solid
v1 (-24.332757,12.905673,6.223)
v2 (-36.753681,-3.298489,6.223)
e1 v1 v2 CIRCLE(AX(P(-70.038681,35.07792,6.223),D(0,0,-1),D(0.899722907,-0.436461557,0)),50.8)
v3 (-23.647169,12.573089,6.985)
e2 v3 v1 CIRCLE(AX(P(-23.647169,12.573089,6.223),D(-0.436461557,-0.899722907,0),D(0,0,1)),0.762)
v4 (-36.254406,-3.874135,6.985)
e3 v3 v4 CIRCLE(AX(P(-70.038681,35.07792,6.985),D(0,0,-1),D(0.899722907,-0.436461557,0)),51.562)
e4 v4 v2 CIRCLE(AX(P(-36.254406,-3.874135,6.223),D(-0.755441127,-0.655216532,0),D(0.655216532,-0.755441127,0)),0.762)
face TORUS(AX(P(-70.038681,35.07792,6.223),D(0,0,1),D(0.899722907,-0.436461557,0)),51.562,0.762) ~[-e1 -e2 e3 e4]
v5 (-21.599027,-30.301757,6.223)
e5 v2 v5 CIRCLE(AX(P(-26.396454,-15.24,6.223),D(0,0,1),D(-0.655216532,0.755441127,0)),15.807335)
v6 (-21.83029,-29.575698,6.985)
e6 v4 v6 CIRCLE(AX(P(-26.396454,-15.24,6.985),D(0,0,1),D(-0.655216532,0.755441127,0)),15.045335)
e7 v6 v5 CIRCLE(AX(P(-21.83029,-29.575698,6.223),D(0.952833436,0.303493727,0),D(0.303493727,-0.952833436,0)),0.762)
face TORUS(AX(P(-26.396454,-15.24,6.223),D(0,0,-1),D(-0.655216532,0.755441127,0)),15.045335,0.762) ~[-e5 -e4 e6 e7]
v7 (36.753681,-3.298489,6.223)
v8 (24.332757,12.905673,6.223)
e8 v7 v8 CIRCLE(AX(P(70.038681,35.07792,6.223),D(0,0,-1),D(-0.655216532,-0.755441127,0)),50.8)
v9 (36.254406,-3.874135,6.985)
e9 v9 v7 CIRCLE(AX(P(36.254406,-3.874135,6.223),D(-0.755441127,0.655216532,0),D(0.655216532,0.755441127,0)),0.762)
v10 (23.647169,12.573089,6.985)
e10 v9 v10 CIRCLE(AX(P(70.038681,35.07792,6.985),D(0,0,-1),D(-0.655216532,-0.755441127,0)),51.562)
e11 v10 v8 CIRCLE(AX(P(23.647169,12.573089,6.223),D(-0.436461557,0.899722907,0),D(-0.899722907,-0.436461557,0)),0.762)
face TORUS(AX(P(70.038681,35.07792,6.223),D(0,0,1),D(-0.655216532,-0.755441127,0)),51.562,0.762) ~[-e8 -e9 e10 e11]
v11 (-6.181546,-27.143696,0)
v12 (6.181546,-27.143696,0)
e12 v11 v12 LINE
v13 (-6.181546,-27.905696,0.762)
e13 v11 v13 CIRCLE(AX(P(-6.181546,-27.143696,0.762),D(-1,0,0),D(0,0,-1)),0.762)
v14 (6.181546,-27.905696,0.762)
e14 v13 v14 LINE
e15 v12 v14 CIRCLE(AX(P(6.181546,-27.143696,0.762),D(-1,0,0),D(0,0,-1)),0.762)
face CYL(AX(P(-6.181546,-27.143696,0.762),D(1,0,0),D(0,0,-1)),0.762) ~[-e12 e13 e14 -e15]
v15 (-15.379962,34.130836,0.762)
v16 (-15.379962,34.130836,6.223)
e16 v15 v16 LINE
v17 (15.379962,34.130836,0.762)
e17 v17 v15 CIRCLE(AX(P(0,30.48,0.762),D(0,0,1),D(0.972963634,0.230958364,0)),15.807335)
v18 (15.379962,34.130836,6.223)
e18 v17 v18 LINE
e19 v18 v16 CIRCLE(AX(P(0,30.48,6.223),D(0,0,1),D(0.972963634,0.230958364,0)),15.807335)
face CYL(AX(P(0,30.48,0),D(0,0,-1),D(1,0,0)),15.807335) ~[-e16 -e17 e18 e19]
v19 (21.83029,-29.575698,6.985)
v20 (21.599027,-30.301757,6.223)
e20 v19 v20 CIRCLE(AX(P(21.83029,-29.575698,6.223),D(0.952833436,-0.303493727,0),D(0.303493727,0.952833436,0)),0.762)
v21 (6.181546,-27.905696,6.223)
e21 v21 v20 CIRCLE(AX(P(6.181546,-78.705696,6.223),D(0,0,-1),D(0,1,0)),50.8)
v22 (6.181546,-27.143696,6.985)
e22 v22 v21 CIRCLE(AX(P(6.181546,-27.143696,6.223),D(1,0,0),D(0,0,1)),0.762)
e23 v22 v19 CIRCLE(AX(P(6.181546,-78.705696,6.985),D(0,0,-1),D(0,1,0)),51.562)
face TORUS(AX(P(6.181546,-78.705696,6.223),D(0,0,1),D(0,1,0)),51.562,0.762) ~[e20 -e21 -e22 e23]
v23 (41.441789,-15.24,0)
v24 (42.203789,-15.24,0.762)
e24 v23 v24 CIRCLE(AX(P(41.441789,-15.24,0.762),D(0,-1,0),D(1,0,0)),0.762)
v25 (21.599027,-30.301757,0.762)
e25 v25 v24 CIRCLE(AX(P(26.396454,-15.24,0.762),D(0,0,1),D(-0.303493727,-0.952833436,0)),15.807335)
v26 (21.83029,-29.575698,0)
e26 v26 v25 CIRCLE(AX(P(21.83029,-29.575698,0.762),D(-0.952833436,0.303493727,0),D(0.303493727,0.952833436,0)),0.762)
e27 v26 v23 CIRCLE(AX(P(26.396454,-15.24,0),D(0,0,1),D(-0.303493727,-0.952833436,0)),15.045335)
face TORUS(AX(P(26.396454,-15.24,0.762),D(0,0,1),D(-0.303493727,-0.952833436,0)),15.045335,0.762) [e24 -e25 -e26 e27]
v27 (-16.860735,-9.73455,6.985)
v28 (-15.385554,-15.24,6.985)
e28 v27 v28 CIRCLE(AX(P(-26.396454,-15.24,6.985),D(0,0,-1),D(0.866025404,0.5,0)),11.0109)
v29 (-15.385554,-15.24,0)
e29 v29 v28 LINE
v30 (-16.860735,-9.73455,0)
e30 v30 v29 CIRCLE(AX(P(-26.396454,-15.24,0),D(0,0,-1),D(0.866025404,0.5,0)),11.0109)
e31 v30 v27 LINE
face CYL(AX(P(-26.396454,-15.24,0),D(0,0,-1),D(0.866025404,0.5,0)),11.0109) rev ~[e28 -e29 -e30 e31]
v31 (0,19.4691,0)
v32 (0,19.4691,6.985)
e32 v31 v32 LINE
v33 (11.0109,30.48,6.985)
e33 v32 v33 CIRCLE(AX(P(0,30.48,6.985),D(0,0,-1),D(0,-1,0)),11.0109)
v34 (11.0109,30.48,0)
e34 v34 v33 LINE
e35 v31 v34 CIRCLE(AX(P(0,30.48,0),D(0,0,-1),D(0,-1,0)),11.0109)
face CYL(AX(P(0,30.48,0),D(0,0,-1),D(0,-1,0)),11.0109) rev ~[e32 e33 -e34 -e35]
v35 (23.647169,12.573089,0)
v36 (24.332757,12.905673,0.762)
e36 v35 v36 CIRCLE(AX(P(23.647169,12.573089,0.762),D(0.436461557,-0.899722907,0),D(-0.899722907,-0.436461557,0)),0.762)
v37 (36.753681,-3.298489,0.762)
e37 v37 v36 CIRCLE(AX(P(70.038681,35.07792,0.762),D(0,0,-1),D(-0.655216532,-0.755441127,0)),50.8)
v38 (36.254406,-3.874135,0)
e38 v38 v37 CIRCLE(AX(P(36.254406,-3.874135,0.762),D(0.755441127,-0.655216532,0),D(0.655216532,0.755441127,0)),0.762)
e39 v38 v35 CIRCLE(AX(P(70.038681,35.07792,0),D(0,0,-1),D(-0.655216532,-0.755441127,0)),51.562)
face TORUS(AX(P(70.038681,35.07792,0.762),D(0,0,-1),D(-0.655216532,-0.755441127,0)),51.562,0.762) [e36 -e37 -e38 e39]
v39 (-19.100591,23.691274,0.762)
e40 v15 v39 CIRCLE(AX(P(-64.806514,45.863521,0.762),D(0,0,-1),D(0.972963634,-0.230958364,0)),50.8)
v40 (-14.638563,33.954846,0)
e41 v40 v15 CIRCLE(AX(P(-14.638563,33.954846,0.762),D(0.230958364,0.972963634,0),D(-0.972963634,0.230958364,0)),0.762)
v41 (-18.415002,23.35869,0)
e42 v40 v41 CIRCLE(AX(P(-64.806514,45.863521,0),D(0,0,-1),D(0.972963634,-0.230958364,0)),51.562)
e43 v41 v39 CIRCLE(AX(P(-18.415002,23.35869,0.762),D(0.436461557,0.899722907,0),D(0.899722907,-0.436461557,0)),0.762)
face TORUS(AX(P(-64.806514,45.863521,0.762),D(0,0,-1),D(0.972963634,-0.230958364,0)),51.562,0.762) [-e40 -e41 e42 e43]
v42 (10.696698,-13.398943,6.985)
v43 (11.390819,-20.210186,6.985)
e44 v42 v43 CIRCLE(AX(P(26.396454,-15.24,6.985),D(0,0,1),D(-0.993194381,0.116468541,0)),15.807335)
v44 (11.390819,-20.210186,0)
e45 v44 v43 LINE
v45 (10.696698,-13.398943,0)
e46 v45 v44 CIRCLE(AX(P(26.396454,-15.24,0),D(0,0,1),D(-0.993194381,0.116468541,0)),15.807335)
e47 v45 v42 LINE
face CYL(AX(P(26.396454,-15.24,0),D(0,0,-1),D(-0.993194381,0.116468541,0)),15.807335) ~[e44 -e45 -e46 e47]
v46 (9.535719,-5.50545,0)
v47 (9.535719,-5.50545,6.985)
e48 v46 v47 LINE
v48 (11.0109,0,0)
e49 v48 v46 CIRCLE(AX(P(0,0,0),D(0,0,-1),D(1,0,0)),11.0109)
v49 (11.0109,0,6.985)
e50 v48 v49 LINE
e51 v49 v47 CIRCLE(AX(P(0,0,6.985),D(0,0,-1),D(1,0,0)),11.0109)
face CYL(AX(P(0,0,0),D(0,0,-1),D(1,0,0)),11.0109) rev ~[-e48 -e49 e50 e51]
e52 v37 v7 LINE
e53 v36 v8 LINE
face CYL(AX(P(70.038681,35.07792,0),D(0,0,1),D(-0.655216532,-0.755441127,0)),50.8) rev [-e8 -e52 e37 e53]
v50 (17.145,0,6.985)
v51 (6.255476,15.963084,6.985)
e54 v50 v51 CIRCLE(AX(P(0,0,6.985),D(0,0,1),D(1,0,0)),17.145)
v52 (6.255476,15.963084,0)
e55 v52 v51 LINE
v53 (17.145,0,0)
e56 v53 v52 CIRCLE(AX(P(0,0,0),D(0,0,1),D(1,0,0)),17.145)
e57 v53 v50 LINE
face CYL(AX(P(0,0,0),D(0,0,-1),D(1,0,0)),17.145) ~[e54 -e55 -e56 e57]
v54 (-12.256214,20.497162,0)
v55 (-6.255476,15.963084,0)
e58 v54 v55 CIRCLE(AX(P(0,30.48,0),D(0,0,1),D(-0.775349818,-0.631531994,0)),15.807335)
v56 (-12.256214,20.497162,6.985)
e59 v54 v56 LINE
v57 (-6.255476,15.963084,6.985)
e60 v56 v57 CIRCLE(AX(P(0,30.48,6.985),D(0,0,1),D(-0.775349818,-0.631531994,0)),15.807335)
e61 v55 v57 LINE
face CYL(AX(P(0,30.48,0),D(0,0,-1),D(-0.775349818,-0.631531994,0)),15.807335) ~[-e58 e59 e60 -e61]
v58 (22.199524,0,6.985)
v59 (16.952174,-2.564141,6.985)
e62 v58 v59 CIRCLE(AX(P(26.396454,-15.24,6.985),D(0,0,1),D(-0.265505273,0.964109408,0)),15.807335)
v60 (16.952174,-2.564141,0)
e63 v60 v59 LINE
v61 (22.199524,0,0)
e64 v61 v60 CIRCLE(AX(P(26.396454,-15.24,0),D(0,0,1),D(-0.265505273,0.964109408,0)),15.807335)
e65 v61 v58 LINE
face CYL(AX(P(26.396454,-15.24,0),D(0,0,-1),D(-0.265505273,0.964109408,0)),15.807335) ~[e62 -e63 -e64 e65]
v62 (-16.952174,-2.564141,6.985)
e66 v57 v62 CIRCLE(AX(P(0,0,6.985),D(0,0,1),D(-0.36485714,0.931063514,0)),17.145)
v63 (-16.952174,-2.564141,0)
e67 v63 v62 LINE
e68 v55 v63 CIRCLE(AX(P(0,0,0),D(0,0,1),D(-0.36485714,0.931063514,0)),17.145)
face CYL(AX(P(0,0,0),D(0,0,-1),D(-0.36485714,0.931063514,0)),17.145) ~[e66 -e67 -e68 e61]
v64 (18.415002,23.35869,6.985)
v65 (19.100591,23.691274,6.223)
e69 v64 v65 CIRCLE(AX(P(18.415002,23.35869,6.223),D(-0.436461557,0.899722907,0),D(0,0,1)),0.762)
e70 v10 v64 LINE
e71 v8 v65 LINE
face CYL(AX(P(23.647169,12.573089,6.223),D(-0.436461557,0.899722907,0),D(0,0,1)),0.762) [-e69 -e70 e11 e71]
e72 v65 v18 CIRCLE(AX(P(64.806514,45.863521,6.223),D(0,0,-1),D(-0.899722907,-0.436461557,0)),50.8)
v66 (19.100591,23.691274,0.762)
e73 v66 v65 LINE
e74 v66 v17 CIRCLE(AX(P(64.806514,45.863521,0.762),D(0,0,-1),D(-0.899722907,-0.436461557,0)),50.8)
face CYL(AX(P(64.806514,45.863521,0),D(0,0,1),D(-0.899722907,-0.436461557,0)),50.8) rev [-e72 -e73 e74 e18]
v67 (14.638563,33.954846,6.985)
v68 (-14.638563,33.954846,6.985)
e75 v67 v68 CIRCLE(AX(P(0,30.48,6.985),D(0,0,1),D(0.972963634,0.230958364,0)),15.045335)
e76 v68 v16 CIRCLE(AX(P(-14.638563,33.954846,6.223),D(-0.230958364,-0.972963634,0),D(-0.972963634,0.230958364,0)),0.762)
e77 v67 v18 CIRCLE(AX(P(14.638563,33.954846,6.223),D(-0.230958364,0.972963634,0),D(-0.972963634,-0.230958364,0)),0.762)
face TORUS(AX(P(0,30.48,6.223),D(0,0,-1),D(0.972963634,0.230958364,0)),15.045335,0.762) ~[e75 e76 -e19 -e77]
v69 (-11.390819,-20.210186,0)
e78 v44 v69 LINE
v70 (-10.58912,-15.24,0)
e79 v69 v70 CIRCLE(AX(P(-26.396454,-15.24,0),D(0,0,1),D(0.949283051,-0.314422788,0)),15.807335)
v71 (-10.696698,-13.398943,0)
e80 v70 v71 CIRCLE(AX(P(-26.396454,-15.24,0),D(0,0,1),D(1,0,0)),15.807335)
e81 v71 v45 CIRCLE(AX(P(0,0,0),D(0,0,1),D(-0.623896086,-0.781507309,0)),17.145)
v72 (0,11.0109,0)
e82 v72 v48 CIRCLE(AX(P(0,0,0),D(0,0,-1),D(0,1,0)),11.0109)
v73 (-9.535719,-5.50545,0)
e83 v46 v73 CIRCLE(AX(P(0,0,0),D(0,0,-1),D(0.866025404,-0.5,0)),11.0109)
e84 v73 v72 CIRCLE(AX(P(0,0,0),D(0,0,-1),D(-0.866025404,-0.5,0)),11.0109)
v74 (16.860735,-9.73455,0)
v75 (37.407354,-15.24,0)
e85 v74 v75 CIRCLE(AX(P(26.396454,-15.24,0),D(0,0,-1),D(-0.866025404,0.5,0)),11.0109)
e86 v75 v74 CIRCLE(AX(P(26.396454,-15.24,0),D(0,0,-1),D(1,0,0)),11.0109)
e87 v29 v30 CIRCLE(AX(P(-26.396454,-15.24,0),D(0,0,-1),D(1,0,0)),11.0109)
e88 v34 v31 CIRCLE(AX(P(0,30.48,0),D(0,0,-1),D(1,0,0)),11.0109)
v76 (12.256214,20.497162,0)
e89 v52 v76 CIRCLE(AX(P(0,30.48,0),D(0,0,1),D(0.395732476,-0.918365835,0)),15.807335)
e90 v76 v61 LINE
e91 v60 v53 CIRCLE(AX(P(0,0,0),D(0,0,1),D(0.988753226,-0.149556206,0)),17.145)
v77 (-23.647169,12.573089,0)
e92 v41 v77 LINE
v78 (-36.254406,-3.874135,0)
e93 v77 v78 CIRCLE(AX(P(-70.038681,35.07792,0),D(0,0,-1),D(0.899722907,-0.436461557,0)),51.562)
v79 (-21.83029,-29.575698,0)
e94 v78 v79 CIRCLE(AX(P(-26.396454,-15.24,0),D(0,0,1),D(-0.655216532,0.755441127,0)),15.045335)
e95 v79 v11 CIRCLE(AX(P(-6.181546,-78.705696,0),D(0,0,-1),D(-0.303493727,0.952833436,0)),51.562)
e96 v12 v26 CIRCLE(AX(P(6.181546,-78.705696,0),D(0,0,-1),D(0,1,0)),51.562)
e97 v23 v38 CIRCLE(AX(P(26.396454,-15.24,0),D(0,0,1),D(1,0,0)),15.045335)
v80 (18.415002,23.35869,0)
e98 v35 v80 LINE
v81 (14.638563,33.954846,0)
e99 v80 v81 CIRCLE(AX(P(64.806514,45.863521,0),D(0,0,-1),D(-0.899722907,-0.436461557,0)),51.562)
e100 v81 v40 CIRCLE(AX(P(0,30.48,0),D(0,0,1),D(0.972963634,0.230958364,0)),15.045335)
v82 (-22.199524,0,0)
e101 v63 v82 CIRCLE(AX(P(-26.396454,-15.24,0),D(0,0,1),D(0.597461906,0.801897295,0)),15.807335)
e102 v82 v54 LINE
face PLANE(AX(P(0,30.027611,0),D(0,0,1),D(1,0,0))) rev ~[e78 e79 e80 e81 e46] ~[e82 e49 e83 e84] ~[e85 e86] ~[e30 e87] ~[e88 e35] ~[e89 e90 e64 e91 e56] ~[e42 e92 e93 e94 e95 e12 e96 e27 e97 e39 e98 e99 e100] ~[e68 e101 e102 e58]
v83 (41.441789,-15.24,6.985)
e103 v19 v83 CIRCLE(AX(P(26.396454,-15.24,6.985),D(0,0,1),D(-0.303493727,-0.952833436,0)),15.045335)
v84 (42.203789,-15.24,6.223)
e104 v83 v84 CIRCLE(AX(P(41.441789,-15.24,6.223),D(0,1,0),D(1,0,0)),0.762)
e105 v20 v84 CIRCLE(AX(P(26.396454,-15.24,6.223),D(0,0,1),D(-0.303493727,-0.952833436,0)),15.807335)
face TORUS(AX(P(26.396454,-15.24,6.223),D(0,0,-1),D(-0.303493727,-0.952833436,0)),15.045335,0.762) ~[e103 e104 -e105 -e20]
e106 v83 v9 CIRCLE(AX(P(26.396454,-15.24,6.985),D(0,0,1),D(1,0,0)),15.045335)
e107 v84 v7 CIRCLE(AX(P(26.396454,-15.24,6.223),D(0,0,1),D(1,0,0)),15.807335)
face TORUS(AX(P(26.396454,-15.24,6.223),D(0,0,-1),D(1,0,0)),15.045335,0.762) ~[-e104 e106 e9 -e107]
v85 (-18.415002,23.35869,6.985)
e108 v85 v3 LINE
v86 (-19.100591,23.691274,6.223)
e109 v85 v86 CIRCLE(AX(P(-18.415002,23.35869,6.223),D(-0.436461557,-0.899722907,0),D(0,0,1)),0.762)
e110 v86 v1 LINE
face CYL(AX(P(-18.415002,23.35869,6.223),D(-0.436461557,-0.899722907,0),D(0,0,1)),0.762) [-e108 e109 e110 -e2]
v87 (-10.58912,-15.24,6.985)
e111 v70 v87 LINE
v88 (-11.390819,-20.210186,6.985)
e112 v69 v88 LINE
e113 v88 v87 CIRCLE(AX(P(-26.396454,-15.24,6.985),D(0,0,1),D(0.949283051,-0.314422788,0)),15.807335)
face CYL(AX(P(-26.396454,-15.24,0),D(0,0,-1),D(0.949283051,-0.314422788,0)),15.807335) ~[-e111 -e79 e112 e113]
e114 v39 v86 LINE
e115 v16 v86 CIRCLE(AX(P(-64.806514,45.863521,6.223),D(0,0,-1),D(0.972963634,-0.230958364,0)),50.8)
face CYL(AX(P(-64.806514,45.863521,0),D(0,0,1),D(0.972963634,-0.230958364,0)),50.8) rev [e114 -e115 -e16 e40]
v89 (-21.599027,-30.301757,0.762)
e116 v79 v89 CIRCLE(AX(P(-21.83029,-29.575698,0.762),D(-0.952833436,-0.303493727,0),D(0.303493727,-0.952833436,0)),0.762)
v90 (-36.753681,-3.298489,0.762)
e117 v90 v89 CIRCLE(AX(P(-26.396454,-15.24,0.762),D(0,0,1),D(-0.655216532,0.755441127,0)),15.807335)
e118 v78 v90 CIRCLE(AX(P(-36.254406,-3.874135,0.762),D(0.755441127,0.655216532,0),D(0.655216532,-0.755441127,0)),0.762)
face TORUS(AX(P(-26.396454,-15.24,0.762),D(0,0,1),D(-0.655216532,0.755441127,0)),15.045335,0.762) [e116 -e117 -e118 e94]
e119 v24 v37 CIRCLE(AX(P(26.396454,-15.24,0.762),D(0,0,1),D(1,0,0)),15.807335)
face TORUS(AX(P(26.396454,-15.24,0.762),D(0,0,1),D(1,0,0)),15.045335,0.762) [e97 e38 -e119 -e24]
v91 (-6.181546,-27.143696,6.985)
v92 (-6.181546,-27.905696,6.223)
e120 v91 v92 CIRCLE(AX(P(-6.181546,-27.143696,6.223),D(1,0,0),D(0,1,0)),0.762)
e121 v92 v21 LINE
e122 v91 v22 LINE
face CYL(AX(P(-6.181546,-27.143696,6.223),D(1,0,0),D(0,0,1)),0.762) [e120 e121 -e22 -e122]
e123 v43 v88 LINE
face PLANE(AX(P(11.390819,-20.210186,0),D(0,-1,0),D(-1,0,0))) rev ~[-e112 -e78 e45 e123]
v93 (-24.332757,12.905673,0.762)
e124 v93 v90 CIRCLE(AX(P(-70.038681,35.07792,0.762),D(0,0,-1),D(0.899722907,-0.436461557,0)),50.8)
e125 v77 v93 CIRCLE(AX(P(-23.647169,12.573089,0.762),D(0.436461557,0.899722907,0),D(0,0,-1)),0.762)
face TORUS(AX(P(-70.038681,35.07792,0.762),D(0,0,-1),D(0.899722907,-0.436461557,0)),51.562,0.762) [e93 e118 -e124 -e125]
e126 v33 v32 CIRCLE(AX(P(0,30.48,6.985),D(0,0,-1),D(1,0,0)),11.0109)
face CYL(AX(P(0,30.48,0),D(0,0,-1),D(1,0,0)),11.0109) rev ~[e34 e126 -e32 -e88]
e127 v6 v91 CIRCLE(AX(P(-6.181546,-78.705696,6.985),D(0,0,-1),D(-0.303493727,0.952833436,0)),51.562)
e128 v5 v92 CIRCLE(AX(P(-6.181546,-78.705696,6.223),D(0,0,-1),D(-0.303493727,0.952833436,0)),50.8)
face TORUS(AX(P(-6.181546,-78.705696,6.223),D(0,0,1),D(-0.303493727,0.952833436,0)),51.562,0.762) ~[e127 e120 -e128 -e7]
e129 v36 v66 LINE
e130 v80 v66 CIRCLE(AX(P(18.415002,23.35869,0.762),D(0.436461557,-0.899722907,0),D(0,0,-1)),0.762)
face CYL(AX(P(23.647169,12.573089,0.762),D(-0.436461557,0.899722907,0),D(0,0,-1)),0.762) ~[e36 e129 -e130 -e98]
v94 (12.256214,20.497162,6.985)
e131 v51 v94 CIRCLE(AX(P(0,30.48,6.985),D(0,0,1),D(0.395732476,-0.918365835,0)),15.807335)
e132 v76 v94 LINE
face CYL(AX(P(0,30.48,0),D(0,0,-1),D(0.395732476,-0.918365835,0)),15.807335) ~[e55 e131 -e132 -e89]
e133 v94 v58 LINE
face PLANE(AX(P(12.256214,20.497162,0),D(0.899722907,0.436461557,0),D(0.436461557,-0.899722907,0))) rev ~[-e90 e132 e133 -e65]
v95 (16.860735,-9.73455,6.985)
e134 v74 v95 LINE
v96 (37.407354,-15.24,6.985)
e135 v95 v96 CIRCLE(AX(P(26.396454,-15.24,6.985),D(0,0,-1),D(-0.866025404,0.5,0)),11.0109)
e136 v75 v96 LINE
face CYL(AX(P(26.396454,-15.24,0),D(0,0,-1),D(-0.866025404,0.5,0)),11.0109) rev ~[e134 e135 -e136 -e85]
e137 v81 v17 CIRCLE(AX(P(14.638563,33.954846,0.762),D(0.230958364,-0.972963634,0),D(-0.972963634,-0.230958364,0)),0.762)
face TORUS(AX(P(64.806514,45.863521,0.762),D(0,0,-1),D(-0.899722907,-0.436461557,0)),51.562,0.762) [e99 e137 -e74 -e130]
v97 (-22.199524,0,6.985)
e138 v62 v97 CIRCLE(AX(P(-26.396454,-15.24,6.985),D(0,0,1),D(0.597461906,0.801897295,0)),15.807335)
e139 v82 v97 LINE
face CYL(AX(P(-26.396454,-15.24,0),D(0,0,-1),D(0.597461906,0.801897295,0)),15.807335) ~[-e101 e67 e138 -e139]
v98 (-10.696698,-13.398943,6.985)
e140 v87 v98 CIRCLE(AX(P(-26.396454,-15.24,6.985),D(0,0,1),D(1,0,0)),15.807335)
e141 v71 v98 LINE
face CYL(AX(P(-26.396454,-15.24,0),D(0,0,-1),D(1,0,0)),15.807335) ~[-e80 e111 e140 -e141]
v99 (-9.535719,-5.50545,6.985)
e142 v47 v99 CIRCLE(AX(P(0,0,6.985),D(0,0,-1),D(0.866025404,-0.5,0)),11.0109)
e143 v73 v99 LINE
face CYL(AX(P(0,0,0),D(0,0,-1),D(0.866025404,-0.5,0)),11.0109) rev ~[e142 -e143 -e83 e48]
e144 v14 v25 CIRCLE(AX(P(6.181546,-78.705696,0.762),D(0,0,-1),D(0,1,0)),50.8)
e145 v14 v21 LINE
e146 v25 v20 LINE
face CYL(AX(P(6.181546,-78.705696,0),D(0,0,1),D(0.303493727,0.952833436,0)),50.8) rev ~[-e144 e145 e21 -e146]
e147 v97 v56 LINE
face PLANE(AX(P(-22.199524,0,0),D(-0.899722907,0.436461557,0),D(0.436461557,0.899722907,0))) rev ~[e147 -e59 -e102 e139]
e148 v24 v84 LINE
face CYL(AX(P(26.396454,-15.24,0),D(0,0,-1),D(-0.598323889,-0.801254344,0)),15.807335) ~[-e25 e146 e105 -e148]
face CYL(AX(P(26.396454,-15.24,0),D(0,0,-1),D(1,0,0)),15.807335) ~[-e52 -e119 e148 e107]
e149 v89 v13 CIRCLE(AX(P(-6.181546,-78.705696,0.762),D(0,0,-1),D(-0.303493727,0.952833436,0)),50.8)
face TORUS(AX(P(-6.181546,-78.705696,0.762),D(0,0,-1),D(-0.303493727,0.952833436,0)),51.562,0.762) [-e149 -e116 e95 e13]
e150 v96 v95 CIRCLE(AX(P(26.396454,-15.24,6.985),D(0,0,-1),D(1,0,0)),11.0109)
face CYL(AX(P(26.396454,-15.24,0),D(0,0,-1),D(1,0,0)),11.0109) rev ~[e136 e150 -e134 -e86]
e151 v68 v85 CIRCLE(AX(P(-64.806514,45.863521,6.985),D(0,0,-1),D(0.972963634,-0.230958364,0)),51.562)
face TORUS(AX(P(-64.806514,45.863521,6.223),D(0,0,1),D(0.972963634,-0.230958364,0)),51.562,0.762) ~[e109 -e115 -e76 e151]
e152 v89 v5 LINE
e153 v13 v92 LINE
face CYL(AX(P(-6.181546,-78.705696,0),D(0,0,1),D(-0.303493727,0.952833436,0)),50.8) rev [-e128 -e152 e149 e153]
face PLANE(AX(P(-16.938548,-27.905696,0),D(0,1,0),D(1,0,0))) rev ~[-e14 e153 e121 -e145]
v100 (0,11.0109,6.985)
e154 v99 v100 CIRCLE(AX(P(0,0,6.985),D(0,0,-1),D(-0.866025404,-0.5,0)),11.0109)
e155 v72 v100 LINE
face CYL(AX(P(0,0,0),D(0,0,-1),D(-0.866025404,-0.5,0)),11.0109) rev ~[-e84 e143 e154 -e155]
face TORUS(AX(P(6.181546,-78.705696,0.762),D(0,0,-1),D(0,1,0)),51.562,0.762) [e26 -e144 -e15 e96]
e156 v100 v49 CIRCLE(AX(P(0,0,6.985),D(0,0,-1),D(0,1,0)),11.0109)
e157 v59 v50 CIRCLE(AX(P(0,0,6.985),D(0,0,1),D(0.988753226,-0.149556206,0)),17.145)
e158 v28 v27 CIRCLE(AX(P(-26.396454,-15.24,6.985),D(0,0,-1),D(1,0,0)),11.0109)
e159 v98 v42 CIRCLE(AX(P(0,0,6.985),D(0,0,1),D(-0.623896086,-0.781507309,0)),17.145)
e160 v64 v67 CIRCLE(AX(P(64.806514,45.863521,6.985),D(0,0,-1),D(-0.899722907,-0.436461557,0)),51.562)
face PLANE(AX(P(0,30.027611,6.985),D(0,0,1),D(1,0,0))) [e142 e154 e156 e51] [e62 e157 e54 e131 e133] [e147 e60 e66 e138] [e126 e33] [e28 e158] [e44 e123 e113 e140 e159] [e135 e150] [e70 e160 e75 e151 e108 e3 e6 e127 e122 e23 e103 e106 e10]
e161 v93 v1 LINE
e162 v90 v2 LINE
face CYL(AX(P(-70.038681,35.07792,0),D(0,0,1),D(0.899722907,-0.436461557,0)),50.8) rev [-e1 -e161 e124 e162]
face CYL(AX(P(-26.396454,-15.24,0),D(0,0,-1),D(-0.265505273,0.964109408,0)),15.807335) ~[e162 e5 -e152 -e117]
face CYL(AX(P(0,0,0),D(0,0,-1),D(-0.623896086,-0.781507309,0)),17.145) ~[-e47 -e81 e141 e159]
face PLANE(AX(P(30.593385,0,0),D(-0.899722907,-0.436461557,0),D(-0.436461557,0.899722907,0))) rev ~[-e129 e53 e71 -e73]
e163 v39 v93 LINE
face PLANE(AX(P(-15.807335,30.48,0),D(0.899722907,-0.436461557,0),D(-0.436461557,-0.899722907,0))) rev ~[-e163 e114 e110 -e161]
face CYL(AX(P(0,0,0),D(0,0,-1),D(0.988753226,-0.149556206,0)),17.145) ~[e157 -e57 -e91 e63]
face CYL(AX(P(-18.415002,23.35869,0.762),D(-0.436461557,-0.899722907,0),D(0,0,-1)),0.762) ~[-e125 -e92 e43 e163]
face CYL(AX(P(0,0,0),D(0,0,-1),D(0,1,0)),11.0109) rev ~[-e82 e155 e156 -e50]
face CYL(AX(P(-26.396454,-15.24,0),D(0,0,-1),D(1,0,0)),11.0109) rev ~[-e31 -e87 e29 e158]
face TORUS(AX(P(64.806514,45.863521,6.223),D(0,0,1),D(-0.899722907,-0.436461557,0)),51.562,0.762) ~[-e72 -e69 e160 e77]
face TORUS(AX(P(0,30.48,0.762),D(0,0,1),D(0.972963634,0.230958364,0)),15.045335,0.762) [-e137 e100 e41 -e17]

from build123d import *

# Parameters (mm, degrees)
F1_DEPTH = 6.985
F2_R     = 50.8
F3_R     = 0.762
F4_R     = 0.762


with BuildPart() as f1:
    # F0 (on Top) → F1 (new body)
    with BuildSketch(Plane.XY):
        with BuildLine():
            ThreePointArc((-6.2554756572, 15.9630839534), (-3.1830763908, 16.8469299782), (0, 17.145))
            ThreePointArc((0, 17.145), (3.1830763908, 16.8469299782), (6.2554756572, 15.9630839534))
            ThreePointArc((6.2554756572, 15.9630839534), (9.5294349524, 17.8680335914), (12.2562140059, 20.4971624553))
            ThreePointArc((12.2562140059, 20.4971624553), (14.8931175874, 25.1821819838), (15.8073346015, 30.48))
            ThreePointArc((15.8073346015, 30.48), (0, 46.2873346015), (-15.8073346015, 30.48))
            ThreePointArc((-15.8073346015, 30.48), (-14.8931175874, 25.1821819838), (-12.2562140059, 20.4971624553))
            ThreePointArc((-12.2562140059, 20.4971624553), (-9.5294349524, 17.8680335914), (-6.2554756572, 15.9630839534))
        make_face()
        with BuildLine():
            ThreePointArc((11.0109, 30.48), (7.785882057, 22.694117943), (0, 19.4691))
            ThreePointArc((0, 19.4691), (-7.785882057, 38.265882057), (11.0109, 30.48))
        make_face(mode=Mode.SUBTRACT)
        with BuildLine():
            ThreePointArc((16.952174055, -2.5641411448), (16.1814075323, -5.6668399724), (14.8480055479, -8.5725))
            ThreePointArc((14.8480055479, -8.5725), (12.9983311415, -11.1800900057), (10.6966983977, -13.3989428086))
            ThreePointArc((10.6966983977, -13.3989428086), (10.6705675574, -16.8425957477), (11.3908194918, -20.2101862123))
            ThreePointArc((11.3908194918, -20.2101862123), (13.5737626184, -24.4839388278), (16.9385483902, -27.9056955145))
            ThreePointArc((16.9385483902, -27.9056955145), (33.4805048345, -29.3711024104), (42.2037889088, -15.24))
            ThreePointArc((42.2037889088, -15.24), (38.9705171928, -5.6606070257), (30.5933849958, 0))
            ThreePointArc((30.5933849958, 0), (26.3964543073, 0.5673346015), (22.1995236189, 0))
            ThreePointArc((22.1995236189, 0), (19.456399269, -1.0376247315), (16.952174055, -2.5641411448))
        make_face()
        with BuildLine():
            ThreePointArc((37.4073543073, -15.24), (23.5466236836, -25.8757126807), (16.8607351888, -9.73455))
            ThreePointArc((16.8607351888, -9.73455), (29.2462849311, -4.6042873193), (37.4073543073, -15.24))
        make_face(mode=Mode.SUBTRACT)
        with BuildLine():
            ThreePointArc((-10.6966983977, -13.3989428086), (-12.9983311415, -11.1800900057), (-14.8480055479, -8.5725))
            ThreePointArc((-14.8480055479, -8.5725), (-16.1814075323, -5.6668399724), (-16.952174055, -2.5641411448))
            ThreePointArc((-16.952174055, -2.5641411448), (-19.456399269, -1.0376247315), (-22.1995236189, 0))
            ThreePointArc((-22.1995236189, 0), (-26.3964543073, 0.5673346015), (-30.5933849958, 0))
            ThreePointArc((-30.5933849958, 0), (-40.5950959898, -22.1876903772), (-16.9385483902, -27.9056955145))
            ThreePointArc((-16.9385483902, -27.9056955145), (-13.5737626184, -24.4839388278), (-11.3908194918, -20.2101862123))
            ThreePointArc((-11.3908194918, -20.2101862123), (-10.7908316405, -17.7572144094), (-10.5891197059, -15.24))
            ThreePointArc((-10.5891197059, -15.24), (-10.6160372972, -14.3179012042), (-10.6966983977, -13.3989428086))
        make_face()
        with BuildLine():
            ThreePointArc((-15.3855543073, -15.24), (-37.032166988, -18.0898306237), (-16.8607351888, -9.73455))
            ThreePointArc((-16.8607351888, -9.73455), (-15.7607416267, -12.3901693763), (-15.3855543073, -15.24))
        make_face(mode=Mode.SUBTRACT)
        with BuildLine():
            Line((-22.1995236189, 0), (-12.2562140059, 20.4971624553))
            ThreePointArc((-12.2562140059, 20.4971624553), (-14.8931175874, 25.1821819838), (-15.8073346015, 30.48))
            Line((-15.8073346015, 30.48), (-30.5933849958, 0))
            ThreePointArc((-30.5933849958, 0), (-26.3964543073, 0.5673346015), (-22.1995236189, 0))
        make_face()
        with BuildLine():
            ThreePointArc((15.8073346015, 30.48), (14.8931175874, 25.1821819838), (12.2562140059, 20.4971624553))
            Line((12.2562140059, 20.4971624553), (22.1995236189, 0))
            ThreePointArc((22.1995236189, 0), (26.3964543073, 0.5673346015), (30.5933849958, 0))
            Line((30.5933849958, 0), (15.8073346015, 30.48))
        make_face()
        with BuildLine():
            ThreePointArc((16.9385483902, -27.9056955145), (13.5737626184, -24.4839388278), (11.3908194918, -20.2101862123))
            Line((11.3908194918, -20.2101862123), (-11.3908194918, -20.2101862123))
            ThreePointArc((-11.3908194918, -20.2101862123), (-13.5737626184, -24.4839388278), (-16.9385483902, -27.9056955145))
            Line((-16.9385483902, -27.9056955145), (16.9385483902, -27.9056955145))
        make_face()
        with BuildLine():
            ThreePointArc((0, 11.0109), (7.785882057, 7.785882057), (11.0109, 0))
            ThreePointArc((11.0109, 0), (10.6357126807, -2.8498306237), (9.5357191185, -5.50545))
            Line((9.5357191185, -5.50545), (12.7069009763, -7.3363326993))
            ThreePointArc((12.7069009763, -7.3363326993), (14.5859921181, -4.7335824336), (16.952174055, -2.5641411448))
            ThreePointArc((16.952174055, -2.5641411448), (17.0967255516, -1.2856906369), (17.145, 0))
            ThreePointArc((17.145, 0), (14.1633533307, 9.6618035288), (6.2554756572, 15.9630839534))
            ThreePointArc((6.2554756572, 15.9630839534), (3.1935934206, 14.9986309305), (0, 14.6726653985))
            Line((0, 14.6726653985), (0, 11.0109))
        make_face()
        with BuildLine():
            Line((12.7069009763, -7.3363326993), (9.5357191185, -5.50545))
            ThreePointArc((9.5357191185, -5.50545), (0, -11.0109), (-9.5357191185, -5.50545))
            Line((-9.5357191185, -5.50545), (-12.7069009763, -7.3363326993))
            ThreePointArc((-12.7069009763, -7.3363326993), (-11.3923986975, -10.2650484968), (-10.6966983977, -13.3989428086))
            ThreePointArc((-10.6966983977, -13.3989428086), (0, -17.145), (10.6966983977, -13.3989428086))
            ThreePointArc((10.6966983977, -13.3989428086), (11.3923986975, -10.2650484968), (12.7069009763, -7.3363326993))
        make_face()
        with BuildLine():
            ThreePointArc((-9.5357191185, -5.50545), (-9.5357191185, 5.50545), (0, 11.0109))
            Line((0, 11.0109), (0, 14.6726653985))
            ThreePointArc((0, 14.6726653985), (-3.1935934206, 14.9986309305), (-6.2554756572, 15.9630839534))
            ThreePointArc((-6.2554756572, 15.9630839534), (-14.8480055479, 8.5725), (-16.952174055, -2.5641411448))
            ThreePointArc((-16.952174055, -2.5641411448), (-14.5859921181, -4.7335824336), (-12.7069009763, -7.3363326993))
            Line((-12.7069009763, -7.3363326993), (-9.5357191185, -5.50545))
        make_face()
        with BuildLine():
            Line((14.8480055479, -8.5725), (12.7069009763, -7.3363326993))
            ThreePointArc((12.7069009763, -7.3363326993), (11.3923986975, -10.2650484968), (10.6966983977, -13.3989428086))
            ThreePointArc((10.6966983977, -13.3989428086), (12.9983311415, -11.1800900057), (14.8480055479, -8.5725))
        make_face()
        with BuildLine():
            ThreePointArc((16.952174055, -2.5641411448), (14.5859921181, -4.7335824336), (12.7069009763, -7.3363326993))
            Line((12.7069009763, -7.3363326993), (14.8480055479, -8.5725))
            ThreePointArc((14.8480055479, -8.5725), (16.1814075323, -5.6668399724), (16.952174055, -2.5641411448))
        make_face()
        with BuildLine():
            Line((0, 17.145), (0, 14.6726653985))
            ThreePointArc((0, 14.6726653985), (3.1935934206, 14.9986309305), (6.2554756572, 15.9630839534))
            ThreePointArc((6.2554756572, 15.9630839534), (3.1830763908, 16.8469299782), (0, 17.145))
        make_face()
        with BuildLine():
            ThreePointArc((-6.2554756572, 15.9630839534), (-3.1935934206, 14.9986309305), (0, 14.6726653985))
            Line((0, 14.6726653985), (0, 17.145))
            ThreePointArc((0, 17.145), (-3.1830763908, 16.8469299782), (-6.2554756572, 15.9630839534))
        make_face()
        with BuildLine():
            Line((-14.8480055479, -8.5725), (-12.7069009763, -7.3363326993))
            ThreePointArc((-12.7069009763, -7.3363326993), (-14.5859921181, -4.7335824336), (-16.952174055, -2.5641411448))
            ThreePointArc((-16.952174055, -2.5641411448), (-16.1814075323, -5.6668399724), (-14.8480055479, -8.5725))
        make_face()
        with BuildLine():
            ThreePointArc((-10.6966983977, -13.3989428086), (-11.3923986975, -10.2650484968), (-12.7069009763, -7.3363326993))
            Line((-12.7069009763, -7.3363326993), (-14.8480055479, -8.5725))
            ThreePointArc((-14.8480055479, -8.5725), (-12.9983311415, -11.1800900057), (-10.6966983977, -13.3989428086))
        make_face()
    extrude(amount=F1_DEPTH)

    # F2
    f2_edges = [f1.edges().sort_by_distance(p)[0] for p in [
        (16.938548, -27.905696, 3.4925),
        (-16.938548, -27.905696, 3.4925),
        (15.807335, 30.48, 3.4925),
        (30.593385, 0, 3.4925),
        (-15.807335, 30.48, 3.4925),
        (-30.593385, 0, 3.4925),
    ]]
    fillet(f2_edges, radius=F2_R)

    # F3
    f3_edges = [f1.edges().sort_by_distance(p)[0] for p in [
        (0, -27.905696, 0),
    ]]
    fillet(f3_edges, radius=F3_R)

    # F4
    f4_edges = [f1.edges().sort_by_distance(p)[0] for p in [
        (-21.716674, 18.298473, 6.985),
    ]]
    fillet(f4_edges, radius=F4_R)


solid = f1.part
